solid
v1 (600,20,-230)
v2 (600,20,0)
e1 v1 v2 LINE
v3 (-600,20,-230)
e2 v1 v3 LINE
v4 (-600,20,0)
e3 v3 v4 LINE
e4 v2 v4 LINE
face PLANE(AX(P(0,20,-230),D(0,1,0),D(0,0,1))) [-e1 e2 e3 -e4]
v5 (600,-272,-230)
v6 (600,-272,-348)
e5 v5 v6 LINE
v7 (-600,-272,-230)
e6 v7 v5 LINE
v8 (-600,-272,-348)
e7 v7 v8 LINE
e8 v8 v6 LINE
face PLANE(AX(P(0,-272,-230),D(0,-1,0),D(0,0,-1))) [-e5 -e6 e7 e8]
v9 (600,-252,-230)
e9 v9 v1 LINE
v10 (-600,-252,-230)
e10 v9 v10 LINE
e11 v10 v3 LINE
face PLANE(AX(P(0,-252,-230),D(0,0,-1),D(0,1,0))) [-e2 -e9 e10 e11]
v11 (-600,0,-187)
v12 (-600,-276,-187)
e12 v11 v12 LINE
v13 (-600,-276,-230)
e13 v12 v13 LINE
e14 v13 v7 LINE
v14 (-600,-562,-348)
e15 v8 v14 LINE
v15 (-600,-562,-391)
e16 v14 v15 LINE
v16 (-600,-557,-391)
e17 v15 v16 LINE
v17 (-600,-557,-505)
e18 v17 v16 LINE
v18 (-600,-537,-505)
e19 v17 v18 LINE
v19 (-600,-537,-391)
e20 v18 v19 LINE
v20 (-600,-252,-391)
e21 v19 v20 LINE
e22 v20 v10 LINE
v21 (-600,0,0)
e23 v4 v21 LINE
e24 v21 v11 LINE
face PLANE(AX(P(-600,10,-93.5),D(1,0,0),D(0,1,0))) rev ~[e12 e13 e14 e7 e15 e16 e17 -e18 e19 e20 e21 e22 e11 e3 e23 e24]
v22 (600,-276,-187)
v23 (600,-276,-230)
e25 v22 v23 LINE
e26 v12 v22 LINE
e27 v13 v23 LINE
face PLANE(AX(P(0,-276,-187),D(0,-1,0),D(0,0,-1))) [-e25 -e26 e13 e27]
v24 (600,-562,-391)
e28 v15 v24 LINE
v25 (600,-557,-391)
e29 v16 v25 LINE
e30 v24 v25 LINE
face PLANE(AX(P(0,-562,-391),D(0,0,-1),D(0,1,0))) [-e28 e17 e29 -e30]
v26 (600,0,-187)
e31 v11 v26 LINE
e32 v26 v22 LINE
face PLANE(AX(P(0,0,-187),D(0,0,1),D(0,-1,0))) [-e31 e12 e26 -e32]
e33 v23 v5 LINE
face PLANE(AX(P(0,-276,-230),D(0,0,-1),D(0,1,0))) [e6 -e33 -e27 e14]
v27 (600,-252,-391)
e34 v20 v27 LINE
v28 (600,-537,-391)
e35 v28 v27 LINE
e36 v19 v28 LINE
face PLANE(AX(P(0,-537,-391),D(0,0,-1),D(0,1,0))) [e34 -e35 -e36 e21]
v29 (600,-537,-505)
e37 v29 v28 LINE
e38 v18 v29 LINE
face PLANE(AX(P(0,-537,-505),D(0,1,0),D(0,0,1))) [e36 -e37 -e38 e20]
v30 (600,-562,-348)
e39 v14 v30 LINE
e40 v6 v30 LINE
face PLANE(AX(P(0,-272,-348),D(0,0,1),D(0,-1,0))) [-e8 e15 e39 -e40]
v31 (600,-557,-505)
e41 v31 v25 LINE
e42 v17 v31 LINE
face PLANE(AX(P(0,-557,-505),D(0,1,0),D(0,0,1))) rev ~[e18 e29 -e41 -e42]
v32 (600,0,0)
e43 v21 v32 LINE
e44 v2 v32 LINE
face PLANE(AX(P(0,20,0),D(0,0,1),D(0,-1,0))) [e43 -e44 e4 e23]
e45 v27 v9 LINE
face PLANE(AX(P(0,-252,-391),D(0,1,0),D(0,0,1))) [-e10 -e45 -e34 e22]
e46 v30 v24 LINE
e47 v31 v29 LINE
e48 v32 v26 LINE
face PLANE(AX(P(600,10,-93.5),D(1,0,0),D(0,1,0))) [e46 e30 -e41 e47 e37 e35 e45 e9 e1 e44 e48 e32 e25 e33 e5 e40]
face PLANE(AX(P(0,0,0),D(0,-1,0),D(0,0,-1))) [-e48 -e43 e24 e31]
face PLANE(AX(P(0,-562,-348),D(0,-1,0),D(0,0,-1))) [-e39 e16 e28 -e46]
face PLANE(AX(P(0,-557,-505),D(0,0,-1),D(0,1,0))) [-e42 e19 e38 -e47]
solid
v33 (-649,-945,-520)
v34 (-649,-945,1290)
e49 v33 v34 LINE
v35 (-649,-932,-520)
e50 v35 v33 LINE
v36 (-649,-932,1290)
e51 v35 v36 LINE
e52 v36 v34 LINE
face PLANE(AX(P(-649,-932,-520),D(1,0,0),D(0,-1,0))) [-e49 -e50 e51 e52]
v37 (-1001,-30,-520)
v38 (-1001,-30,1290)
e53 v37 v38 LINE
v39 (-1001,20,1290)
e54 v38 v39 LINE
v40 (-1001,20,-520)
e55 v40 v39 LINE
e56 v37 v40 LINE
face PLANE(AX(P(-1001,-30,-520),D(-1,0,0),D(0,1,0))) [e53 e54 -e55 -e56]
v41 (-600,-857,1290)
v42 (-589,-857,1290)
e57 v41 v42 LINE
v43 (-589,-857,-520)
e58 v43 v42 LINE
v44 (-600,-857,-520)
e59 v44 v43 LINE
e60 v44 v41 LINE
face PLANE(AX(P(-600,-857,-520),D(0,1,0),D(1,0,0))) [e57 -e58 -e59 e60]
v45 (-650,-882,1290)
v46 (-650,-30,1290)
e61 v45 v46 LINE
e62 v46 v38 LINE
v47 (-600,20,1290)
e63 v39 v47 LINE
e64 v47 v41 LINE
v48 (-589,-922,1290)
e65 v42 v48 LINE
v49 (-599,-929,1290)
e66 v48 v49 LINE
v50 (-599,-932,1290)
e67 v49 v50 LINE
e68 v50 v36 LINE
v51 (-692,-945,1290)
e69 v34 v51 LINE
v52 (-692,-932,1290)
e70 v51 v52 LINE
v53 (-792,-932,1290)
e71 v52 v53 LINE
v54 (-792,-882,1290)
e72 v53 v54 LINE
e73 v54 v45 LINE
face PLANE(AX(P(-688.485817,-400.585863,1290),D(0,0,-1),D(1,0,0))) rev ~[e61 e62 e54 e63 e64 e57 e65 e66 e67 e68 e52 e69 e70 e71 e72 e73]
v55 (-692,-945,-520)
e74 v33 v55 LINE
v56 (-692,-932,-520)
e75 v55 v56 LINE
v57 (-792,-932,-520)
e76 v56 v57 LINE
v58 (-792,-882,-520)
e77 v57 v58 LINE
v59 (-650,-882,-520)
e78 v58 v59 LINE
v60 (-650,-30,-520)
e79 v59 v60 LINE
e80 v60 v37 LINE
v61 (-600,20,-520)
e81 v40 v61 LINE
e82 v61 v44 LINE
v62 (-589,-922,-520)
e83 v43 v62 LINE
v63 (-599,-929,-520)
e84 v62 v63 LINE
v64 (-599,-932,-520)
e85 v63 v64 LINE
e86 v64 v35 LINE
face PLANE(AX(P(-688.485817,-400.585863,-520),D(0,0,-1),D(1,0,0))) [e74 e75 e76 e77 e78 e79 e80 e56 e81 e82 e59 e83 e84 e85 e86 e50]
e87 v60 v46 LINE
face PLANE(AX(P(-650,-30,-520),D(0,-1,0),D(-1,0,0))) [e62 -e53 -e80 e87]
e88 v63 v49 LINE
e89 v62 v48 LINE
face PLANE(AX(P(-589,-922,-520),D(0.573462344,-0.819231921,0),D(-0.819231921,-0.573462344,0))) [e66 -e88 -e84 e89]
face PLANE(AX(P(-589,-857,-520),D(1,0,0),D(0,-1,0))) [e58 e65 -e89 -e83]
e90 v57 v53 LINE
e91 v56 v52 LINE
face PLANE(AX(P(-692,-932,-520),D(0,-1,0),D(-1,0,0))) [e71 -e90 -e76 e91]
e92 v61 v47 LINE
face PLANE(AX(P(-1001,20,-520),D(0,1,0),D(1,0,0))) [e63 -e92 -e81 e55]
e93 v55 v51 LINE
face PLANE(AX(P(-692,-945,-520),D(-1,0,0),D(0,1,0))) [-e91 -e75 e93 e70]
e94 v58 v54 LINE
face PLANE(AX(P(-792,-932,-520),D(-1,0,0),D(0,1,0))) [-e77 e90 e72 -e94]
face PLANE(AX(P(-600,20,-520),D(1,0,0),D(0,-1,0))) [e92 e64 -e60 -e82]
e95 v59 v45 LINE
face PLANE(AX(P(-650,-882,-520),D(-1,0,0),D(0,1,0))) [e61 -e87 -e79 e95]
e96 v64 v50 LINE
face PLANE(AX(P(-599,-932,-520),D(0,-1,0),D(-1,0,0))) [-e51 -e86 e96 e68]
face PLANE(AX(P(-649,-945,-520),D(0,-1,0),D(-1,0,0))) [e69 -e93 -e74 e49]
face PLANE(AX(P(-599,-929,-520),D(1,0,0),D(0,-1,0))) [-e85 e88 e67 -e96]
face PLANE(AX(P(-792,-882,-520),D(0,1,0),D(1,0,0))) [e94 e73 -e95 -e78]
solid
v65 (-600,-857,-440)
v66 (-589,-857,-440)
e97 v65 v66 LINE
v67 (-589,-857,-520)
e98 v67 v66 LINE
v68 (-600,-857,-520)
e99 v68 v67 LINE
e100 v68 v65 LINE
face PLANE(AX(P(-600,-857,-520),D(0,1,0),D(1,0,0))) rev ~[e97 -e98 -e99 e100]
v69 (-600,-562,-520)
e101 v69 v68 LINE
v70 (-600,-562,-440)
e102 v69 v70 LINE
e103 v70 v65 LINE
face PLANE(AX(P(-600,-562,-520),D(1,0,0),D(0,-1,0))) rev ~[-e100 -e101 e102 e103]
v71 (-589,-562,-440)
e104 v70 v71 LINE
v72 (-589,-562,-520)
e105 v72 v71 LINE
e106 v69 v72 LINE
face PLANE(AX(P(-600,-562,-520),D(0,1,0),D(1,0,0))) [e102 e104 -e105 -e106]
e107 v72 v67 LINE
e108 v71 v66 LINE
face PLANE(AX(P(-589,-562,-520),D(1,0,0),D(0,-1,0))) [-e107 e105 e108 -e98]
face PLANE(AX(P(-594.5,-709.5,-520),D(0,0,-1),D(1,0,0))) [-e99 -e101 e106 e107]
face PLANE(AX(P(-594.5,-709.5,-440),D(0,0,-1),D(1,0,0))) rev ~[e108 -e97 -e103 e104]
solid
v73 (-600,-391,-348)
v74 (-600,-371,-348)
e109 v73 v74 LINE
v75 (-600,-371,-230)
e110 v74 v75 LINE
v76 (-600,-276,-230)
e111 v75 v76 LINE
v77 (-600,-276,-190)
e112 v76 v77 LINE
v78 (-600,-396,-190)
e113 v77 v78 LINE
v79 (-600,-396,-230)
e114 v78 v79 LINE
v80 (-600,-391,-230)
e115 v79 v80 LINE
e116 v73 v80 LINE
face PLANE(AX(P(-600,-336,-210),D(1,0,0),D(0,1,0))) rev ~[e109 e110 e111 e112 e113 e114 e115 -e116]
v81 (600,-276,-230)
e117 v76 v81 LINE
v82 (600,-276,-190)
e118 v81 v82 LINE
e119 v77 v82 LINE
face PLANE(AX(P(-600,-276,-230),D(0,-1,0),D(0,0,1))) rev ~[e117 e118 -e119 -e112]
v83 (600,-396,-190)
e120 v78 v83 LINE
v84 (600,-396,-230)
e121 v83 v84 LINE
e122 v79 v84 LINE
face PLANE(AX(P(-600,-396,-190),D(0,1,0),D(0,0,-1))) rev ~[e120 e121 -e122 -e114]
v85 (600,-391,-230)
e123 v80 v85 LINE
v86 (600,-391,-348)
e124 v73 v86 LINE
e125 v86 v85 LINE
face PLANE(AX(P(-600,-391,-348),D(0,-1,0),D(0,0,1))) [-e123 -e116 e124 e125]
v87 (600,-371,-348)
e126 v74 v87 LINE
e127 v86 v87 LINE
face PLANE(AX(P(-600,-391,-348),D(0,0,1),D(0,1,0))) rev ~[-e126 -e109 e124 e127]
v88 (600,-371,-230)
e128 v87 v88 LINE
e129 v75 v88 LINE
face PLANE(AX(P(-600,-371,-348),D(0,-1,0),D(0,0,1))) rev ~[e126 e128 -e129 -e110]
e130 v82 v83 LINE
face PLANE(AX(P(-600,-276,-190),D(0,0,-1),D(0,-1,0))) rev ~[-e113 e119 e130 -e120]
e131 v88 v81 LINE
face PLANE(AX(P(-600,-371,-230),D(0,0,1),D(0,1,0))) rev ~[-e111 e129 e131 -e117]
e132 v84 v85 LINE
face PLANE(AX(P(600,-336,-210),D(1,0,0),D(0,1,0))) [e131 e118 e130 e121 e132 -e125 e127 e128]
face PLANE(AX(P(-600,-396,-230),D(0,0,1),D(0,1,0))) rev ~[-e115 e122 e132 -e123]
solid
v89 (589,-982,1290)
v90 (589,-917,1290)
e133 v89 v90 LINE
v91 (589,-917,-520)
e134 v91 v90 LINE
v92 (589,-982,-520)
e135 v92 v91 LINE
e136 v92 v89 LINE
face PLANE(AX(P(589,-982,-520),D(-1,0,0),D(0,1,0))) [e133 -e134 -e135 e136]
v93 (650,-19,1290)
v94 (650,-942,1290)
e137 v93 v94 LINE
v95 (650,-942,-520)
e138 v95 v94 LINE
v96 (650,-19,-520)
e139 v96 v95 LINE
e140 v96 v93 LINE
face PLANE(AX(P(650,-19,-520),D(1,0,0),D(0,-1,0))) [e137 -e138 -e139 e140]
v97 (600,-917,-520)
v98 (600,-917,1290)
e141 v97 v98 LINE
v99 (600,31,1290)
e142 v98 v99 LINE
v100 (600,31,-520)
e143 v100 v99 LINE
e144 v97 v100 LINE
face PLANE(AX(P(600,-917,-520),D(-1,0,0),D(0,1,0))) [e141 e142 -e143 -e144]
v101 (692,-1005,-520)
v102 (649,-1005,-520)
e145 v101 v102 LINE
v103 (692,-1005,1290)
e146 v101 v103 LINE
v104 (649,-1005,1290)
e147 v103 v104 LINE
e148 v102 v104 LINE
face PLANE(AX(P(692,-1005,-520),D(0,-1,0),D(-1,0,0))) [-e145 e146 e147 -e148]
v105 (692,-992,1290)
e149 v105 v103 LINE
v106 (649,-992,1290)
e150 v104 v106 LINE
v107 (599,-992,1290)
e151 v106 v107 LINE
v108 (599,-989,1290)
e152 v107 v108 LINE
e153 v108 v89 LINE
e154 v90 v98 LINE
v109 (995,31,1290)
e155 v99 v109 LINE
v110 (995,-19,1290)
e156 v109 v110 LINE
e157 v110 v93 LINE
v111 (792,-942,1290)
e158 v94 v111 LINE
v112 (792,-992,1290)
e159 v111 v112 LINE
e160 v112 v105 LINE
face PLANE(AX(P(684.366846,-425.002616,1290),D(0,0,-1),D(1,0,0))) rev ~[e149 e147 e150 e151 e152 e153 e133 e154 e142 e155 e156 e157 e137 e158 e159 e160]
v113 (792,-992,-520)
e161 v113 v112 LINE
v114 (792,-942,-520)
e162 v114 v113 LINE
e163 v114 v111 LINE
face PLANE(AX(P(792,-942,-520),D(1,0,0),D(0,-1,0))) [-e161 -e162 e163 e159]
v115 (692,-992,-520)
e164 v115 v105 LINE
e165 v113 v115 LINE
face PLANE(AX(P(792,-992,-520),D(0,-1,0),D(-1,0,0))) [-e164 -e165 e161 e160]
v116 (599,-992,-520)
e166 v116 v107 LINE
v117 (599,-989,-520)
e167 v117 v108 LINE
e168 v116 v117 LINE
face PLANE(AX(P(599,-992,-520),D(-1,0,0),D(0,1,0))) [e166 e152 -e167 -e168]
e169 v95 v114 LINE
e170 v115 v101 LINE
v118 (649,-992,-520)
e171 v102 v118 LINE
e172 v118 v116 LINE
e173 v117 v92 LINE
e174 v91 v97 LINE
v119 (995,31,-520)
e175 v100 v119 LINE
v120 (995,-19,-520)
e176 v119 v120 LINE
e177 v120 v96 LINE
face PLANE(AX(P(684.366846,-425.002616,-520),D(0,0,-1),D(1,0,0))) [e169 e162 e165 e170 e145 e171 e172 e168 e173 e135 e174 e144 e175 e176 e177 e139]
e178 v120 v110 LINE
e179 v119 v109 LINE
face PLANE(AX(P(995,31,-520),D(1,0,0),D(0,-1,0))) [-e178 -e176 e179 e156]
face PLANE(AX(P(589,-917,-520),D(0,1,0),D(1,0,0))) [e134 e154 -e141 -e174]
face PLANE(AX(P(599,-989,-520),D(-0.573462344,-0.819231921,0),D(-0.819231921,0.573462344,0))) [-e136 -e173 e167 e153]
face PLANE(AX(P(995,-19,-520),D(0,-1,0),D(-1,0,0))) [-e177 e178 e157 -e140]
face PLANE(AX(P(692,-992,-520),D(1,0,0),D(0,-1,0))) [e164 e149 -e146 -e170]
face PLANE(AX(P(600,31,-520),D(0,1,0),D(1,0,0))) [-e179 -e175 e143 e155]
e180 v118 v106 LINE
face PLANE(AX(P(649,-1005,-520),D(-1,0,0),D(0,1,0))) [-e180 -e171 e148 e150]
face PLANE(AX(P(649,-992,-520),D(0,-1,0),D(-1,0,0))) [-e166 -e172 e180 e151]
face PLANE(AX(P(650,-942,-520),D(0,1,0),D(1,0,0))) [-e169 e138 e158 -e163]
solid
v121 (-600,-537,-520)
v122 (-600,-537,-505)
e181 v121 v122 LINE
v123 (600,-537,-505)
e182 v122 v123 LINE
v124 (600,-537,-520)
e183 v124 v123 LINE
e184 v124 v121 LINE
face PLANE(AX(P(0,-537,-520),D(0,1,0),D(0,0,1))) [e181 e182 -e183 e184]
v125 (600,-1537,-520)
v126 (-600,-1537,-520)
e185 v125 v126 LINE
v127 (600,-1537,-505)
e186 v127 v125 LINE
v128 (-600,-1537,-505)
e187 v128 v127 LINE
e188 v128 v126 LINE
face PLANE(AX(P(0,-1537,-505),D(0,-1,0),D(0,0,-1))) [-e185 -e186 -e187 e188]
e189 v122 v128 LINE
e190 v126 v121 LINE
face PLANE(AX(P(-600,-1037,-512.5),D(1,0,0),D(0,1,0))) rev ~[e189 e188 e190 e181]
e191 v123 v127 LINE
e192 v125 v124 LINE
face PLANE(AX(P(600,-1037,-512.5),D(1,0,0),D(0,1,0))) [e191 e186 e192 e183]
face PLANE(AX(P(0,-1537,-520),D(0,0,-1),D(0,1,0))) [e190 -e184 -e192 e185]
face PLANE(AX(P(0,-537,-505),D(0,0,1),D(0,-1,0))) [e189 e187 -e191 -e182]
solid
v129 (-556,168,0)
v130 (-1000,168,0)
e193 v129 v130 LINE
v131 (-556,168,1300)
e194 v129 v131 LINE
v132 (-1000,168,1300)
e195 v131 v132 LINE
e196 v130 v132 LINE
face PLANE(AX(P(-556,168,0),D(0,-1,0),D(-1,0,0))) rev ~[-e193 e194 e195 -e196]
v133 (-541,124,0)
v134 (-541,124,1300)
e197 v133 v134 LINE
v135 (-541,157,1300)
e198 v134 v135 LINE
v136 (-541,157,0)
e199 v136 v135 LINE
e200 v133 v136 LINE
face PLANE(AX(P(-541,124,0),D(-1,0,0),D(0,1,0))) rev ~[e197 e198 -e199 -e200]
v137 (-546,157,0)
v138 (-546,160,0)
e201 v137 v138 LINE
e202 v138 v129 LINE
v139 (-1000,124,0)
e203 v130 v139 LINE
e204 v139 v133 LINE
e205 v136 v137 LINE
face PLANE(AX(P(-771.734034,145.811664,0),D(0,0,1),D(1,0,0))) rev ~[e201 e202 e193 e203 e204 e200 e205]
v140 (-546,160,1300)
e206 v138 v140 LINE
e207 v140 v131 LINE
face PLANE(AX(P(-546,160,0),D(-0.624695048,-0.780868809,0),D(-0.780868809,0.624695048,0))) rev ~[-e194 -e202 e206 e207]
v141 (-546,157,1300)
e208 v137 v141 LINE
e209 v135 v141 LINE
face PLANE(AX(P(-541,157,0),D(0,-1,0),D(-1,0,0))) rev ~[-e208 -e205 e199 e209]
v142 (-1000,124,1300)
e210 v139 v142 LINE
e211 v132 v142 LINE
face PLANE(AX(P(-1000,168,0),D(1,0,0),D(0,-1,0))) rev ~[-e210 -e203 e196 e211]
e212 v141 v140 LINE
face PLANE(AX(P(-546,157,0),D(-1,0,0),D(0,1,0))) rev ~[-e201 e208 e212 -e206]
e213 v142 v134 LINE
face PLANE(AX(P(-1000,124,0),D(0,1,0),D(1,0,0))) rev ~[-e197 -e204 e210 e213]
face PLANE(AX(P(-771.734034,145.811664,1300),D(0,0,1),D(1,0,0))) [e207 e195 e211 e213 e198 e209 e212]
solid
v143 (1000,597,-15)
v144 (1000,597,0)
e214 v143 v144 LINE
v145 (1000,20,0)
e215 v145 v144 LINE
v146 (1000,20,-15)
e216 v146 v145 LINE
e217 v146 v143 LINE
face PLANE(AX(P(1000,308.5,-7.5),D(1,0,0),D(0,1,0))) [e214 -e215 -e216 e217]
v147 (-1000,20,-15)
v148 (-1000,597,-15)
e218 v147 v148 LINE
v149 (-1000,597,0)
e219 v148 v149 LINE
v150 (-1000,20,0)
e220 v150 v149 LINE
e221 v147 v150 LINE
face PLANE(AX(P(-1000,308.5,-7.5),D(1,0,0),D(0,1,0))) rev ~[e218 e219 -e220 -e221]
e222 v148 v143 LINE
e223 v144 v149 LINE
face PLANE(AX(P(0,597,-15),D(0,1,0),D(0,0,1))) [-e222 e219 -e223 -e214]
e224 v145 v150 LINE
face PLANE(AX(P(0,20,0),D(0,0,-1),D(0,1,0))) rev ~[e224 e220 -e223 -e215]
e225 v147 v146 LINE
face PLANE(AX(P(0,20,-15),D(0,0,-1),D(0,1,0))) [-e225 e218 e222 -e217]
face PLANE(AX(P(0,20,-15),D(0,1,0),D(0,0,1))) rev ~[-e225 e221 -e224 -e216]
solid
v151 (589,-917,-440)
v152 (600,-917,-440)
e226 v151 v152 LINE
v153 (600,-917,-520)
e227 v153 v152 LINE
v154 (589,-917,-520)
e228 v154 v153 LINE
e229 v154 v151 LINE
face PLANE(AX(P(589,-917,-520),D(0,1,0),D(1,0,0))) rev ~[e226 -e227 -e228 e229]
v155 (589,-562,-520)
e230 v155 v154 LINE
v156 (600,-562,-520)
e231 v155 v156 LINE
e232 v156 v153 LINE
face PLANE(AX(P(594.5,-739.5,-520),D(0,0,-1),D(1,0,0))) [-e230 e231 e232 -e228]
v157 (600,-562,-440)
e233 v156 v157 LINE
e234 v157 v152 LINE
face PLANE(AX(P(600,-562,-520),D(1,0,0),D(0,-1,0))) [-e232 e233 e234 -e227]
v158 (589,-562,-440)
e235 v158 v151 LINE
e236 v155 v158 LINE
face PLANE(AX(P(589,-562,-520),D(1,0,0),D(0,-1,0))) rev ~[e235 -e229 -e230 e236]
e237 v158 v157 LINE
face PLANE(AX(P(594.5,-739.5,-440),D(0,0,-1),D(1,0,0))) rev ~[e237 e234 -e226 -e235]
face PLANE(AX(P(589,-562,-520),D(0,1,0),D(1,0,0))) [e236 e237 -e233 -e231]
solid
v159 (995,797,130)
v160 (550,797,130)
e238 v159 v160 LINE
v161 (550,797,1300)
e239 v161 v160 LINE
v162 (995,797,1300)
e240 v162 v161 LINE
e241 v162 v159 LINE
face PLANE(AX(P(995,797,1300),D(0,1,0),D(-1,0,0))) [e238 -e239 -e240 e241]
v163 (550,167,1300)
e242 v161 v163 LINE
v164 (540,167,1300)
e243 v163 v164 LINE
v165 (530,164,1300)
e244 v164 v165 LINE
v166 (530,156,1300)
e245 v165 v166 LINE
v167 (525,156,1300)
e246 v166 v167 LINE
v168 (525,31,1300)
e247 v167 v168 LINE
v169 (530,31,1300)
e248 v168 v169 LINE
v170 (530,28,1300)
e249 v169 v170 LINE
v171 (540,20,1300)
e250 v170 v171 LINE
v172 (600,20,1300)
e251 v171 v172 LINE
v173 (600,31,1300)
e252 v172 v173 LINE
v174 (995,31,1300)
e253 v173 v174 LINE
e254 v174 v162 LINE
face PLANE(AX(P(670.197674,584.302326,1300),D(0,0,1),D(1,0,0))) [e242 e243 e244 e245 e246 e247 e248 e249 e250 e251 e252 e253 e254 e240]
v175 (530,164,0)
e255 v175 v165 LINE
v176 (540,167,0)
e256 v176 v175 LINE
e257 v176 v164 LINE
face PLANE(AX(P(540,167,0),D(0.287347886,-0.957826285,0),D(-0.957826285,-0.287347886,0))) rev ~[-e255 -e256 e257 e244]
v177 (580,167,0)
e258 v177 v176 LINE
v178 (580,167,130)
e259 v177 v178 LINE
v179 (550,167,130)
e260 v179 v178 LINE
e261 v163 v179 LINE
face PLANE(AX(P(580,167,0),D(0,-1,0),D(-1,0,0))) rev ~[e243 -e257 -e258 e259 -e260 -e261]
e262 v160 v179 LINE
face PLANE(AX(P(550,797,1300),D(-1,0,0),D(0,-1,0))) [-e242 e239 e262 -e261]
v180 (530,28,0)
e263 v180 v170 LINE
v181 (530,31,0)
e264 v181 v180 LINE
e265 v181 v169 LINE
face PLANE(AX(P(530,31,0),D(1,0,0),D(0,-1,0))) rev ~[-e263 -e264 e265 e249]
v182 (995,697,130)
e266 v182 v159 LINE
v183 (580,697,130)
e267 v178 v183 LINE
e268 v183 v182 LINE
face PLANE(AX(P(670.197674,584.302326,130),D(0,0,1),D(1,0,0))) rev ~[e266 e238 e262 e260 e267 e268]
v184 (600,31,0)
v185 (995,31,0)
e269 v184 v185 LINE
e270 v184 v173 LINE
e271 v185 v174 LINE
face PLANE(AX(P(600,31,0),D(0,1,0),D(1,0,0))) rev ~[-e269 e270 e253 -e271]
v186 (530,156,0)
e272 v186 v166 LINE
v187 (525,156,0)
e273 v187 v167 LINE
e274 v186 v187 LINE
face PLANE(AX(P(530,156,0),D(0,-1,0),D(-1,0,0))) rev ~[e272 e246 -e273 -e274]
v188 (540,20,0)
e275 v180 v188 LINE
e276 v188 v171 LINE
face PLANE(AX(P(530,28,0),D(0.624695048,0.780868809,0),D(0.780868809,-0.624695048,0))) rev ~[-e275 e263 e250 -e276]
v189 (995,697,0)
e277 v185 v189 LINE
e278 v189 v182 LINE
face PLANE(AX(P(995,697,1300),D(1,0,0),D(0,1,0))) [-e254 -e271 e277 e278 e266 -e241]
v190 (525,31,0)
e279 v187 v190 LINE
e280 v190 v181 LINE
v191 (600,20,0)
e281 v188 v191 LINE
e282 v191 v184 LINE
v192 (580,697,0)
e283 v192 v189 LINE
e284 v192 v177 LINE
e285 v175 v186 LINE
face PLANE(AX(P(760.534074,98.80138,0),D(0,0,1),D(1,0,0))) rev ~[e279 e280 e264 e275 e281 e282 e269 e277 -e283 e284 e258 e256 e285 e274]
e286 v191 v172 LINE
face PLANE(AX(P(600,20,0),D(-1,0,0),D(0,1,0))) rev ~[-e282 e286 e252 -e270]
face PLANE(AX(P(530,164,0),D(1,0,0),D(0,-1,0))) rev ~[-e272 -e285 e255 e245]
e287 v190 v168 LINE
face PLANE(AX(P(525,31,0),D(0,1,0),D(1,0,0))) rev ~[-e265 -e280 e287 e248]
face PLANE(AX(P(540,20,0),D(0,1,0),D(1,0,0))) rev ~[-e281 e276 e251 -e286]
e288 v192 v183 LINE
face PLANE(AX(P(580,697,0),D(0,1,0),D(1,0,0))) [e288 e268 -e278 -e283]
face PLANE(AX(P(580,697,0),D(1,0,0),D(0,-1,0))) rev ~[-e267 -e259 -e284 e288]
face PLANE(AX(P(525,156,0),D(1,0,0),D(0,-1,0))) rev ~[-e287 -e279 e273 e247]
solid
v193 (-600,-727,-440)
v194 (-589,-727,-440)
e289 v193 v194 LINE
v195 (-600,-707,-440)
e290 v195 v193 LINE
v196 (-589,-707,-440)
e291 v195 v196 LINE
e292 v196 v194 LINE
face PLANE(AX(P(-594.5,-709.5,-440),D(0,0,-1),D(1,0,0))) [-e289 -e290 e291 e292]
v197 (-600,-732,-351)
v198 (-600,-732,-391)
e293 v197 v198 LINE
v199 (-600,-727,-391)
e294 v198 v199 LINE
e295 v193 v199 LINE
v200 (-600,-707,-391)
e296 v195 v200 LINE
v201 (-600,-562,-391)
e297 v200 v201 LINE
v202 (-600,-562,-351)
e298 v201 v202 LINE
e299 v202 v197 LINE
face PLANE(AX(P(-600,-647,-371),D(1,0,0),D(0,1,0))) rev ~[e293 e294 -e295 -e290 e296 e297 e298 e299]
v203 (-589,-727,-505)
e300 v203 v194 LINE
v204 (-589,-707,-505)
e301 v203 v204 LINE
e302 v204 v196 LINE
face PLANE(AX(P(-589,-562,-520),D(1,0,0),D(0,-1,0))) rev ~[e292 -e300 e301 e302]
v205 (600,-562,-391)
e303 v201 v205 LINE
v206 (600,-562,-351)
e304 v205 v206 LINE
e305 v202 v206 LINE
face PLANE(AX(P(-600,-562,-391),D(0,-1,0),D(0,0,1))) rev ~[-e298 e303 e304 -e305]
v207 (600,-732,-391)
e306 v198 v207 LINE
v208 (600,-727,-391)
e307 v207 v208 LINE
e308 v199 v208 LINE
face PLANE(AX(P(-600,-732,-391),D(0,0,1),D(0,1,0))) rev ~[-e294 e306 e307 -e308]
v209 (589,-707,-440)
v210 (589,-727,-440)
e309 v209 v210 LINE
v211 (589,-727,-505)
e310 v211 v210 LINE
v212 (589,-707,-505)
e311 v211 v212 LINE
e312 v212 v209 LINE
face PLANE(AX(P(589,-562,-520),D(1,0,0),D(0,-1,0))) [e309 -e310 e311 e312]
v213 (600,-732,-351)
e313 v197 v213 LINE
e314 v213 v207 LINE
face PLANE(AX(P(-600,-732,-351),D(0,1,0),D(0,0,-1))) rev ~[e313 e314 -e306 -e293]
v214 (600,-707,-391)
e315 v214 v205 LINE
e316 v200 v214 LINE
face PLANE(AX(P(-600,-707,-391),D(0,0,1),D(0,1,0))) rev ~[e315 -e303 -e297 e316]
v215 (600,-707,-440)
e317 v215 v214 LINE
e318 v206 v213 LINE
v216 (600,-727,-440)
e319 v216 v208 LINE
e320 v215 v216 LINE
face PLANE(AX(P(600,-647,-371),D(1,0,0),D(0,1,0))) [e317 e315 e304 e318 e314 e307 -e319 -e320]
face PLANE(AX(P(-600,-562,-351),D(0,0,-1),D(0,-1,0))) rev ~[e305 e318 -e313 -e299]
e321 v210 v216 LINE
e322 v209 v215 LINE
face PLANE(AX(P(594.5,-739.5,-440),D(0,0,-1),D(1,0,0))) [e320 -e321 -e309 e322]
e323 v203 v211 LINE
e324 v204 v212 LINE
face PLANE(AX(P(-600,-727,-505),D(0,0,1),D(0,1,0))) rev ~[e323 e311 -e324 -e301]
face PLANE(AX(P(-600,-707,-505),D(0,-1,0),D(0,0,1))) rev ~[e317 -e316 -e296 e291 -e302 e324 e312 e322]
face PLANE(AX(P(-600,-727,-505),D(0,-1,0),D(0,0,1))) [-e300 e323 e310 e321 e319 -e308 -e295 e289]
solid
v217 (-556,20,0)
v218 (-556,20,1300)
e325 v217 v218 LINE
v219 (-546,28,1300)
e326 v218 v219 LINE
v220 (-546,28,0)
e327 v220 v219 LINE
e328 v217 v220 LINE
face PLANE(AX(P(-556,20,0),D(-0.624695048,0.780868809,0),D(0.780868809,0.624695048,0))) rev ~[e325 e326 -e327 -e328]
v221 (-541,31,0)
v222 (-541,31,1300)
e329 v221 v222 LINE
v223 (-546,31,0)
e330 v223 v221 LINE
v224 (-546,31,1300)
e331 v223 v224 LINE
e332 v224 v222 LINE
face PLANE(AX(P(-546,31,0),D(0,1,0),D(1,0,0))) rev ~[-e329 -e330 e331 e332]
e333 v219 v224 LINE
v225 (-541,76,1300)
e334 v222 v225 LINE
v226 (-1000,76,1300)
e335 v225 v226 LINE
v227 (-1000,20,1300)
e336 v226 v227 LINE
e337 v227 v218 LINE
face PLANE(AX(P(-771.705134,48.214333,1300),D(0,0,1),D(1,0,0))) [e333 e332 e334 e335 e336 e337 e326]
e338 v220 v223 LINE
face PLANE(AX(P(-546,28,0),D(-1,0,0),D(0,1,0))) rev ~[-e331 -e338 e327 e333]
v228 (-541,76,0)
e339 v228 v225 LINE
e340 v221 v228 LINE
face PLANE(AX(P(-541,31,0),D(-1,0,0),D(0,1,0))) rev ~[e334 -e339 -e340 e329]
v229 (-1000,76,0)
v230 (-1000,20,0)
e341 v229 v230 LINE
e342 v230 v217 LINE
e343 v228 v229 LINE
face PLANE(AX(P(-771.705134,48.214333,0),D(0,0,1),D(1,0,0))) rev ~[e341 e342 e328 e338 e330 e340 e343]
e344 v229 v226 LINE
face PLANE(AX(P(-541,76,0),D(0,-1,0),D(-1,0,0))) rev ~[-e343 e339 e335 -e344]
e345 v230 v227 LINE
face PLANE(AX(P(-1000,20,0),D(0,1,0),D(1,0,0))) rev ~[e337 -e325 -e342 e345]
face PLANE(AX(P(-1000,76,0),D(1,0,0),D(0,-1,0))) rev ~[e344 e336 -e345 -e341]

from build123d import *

# Parameters (mm, degrees)
F0_W      = 20
F0_H      = 114
F1_DEPTH  = 600
F2_DEPTH  = 600
F0_W_2    = 577
F0_H_2    = 15
F3_DEPTH  = 1000
F5_DEPTH  = 1300
F4_W      = 415
F4_H      = 430
F4_H_2    = 100
F7_DEPTH  = 1170
F10_DEPTH = 1810
F9_W      = 11
F9_H      = 355
F11_DEPTH = 80
F9_H_2    = 295
F12_W     = 20
F12_H     = 118
F13_DEPTH = 1200
F12_H_2   = 114


with BuildPart() as f1:
    # F0 (on Right) → F1 (new body, symmetric)
    with BuildSketch(Plane.YZ):
        Polygon((20, 0), (0, 0), (0, -187), (20, -187), (20, -15), align=None)
        Polygon((20, -187), (0, -187), (-276, -187), (-276, -230), (-272, -230), (-252, -230), (20, -230), align=None)
        Polygon((-252, -391), (-252, -230), (-272, -230), (-272, -348), (-272, -391), align=None)
        Polygon((-272, -391), (-272, -348), (-562, -348), (-562, -391), (-557, -391), (-537, -391), align=None)
        with Locations((-547, -448)):
            Rectangle(F0_W, F0_H)
    extrude(amount=F1_DEPTH, both=True)


with BuildPart() as f2:
    # F0 (on Right) → F2 (new body, symmetric)
    with BuildSketch(Plane.YZ):
        Polygon((-537, -520), (-537, -505), (-557, -505), (-1537, -505), (-1537, -520), align=None)
    extrude(amount=F2_DEPTH, both=True)


with BuildPart() as f3:
    # F0 (on Right) → F3 (new body, symmetric)
    with BuildSketch(Plane.YZ):
        with Locations((308.5, -7.5)):
            Rectangle(F0_W_2, F0_H_2)
    extrude(amount=F3_DEPTH, both=True)


with BuildPart() as f5:
    # F4 (on face) → F5 (new body)
    with BuildSketch(Plane.XY):
        Polygon((-600, 20), (-556, 20), (-546, 28), (-546, 31), (-541, 31), (-541, 76), (-1000, 76), (-1000, 20), align=None)
    extrude(amount=F5_DEPTH)


with BuildPart() as f5b:
    # F4 (on face) → F5, piece 2 (new body)
    with BuildSketch(Plane.XY):
        Polygon((-1000, 168), (-1000, 124), (-541, 124), (-541, 157), (-546, 157), (-546, 160), (-556, 168), (-600, 168), align=None)
    extrude(amount=F5_DEPTH)


with BuildPart() as f5c:
    # F4 (on face) → F5, piece 3 (new body)
    with BuildSketch(Plane.XY):
        Polygon((530, 31), (600, 31), (995, 31), (995, 167), (580, 167), (540, 167), (530, 164), (530, 156), (525, 156), (525, 31), align=None)
        with Locations((787.5, 382)):
            Rectangle(F4_W, F4_H)
        with Locations((787.5, 647)):
            Rectangle(F4_W, F4_H_2)
        Polygon((540, 20), (600, 20), (600, 31), (530, 31), (530, 28), align=None)
    extrude(amount=F5_DEPTH)

    # F6 (on face) → F7 (join)
    with BuildSketch(Plane.XY.offset(1300)):
        Polygon((550, 797), (550, 167), (580, 167), (580, 697), (995, 697), (995, 797), align=None)
    extrude(amount=-F7_DEPTH)


with BuildPart() as f10:
    # F9 (on offset) → F10 (new body)
    with BuildSketch(Plane(origin=(0, 0, -520), x_dir=(1, 0, 0), z_dir=(0, 0, -1))):
        Polygon((600, -31), (995, -31), (995, 19), (650, 19), (650, 942), (792, 942), (792, 992), (692, 992), (692, 1005), (649, 1005), (649, 992), (599, 992), (599, 989), (589, 982), (589, 917), (600, 917), (600, 562), align=None)
    extrude(amount=-F10_DEPTH)


with BuildPart() as f10b:
    # F9 (on offset) → F10, piece 2 (new body)
    with BuildSketch(Plane(origin=(0, 0, -520), x_dir=(1, 0, 0), z_dir=(0, 0, -1))):
        Polygon((-1001, 30), (-1001, -20), (-600, -20), (-600, 562), (-600, 857), (-589, 857), (-589, 922), (-599, 929), (-599, 932), (-649, 932), (-649, 945), (-692, 945), (-692, 932), (-792, 932), (-792, 882), (-650, 882), (-650, 30), align=None)
    extrude(amount=-F10_DEPTH)


with BuildPart() as f11:
    # F9 (on offset) → F11 (new body)
    with BuildSketch(Plane(origin=(0, 0, -520), x_dir=(1, 0, 0), z_dir=(0, 0, -1))):
        with Locations((594.5, 739.5)):
            Rectangle(F9_W, F9_H)
    extrude(amount=-F11_DEPTH)


with BuildPart() as f11b:
    # F9 (on offset) → F11, piece 2 (new body)
    with BuildSketch(Plane(origin=(0, 0, -520), x_dir=(1, 0, 0), z_dir=(0, 0, -1))):
        with Locations((-594.5, 709.5)):
            Rectangle(F9_W, F9_H_2)
    extrude(amount=-F11_DEPTH)


with BuildPart() as f13:
    # F12 (on face) → F13 (new body)
    with BuildSketch(Plane.YZ.offset(-600)):
        Polygon((-371, -230), (-276, -230), (-276, -190), (-396, -190), (-396, -230), (-391, -230), align=None)
        with Locations((-381, -289)):
            Rectangle(F12_W, F12_H)
    extrude(amount=F13_DEPTH)


with BuildPart() as f13b:
    # F12 (on face) → F13, piece 2 (new body)
    with BuildSketch(Plane.YZ.offset(-600)):
        Polygon((-707, -391), (-562, -391), (-562, -351), (-732, -351), (-732, -391), (-727, -391), align=None)
        with Locations((-717, -448)):
            Rectangle(F12_W, F12_H_2)
    extrude(amount=F13_DEPTH)

    # F14: cut F11b, F11
    add(f11b.part, mode=Mode.SUBTRACT)
    add(f11.part, mode=Mode.SUBTRACT)


solid = Compound([f1.part, f2.part, f3.part, f5.part, f5b.part, f5c.part, f10.part, f10b.part, f11.part, f11b.part, f13.part, f13b.part])
